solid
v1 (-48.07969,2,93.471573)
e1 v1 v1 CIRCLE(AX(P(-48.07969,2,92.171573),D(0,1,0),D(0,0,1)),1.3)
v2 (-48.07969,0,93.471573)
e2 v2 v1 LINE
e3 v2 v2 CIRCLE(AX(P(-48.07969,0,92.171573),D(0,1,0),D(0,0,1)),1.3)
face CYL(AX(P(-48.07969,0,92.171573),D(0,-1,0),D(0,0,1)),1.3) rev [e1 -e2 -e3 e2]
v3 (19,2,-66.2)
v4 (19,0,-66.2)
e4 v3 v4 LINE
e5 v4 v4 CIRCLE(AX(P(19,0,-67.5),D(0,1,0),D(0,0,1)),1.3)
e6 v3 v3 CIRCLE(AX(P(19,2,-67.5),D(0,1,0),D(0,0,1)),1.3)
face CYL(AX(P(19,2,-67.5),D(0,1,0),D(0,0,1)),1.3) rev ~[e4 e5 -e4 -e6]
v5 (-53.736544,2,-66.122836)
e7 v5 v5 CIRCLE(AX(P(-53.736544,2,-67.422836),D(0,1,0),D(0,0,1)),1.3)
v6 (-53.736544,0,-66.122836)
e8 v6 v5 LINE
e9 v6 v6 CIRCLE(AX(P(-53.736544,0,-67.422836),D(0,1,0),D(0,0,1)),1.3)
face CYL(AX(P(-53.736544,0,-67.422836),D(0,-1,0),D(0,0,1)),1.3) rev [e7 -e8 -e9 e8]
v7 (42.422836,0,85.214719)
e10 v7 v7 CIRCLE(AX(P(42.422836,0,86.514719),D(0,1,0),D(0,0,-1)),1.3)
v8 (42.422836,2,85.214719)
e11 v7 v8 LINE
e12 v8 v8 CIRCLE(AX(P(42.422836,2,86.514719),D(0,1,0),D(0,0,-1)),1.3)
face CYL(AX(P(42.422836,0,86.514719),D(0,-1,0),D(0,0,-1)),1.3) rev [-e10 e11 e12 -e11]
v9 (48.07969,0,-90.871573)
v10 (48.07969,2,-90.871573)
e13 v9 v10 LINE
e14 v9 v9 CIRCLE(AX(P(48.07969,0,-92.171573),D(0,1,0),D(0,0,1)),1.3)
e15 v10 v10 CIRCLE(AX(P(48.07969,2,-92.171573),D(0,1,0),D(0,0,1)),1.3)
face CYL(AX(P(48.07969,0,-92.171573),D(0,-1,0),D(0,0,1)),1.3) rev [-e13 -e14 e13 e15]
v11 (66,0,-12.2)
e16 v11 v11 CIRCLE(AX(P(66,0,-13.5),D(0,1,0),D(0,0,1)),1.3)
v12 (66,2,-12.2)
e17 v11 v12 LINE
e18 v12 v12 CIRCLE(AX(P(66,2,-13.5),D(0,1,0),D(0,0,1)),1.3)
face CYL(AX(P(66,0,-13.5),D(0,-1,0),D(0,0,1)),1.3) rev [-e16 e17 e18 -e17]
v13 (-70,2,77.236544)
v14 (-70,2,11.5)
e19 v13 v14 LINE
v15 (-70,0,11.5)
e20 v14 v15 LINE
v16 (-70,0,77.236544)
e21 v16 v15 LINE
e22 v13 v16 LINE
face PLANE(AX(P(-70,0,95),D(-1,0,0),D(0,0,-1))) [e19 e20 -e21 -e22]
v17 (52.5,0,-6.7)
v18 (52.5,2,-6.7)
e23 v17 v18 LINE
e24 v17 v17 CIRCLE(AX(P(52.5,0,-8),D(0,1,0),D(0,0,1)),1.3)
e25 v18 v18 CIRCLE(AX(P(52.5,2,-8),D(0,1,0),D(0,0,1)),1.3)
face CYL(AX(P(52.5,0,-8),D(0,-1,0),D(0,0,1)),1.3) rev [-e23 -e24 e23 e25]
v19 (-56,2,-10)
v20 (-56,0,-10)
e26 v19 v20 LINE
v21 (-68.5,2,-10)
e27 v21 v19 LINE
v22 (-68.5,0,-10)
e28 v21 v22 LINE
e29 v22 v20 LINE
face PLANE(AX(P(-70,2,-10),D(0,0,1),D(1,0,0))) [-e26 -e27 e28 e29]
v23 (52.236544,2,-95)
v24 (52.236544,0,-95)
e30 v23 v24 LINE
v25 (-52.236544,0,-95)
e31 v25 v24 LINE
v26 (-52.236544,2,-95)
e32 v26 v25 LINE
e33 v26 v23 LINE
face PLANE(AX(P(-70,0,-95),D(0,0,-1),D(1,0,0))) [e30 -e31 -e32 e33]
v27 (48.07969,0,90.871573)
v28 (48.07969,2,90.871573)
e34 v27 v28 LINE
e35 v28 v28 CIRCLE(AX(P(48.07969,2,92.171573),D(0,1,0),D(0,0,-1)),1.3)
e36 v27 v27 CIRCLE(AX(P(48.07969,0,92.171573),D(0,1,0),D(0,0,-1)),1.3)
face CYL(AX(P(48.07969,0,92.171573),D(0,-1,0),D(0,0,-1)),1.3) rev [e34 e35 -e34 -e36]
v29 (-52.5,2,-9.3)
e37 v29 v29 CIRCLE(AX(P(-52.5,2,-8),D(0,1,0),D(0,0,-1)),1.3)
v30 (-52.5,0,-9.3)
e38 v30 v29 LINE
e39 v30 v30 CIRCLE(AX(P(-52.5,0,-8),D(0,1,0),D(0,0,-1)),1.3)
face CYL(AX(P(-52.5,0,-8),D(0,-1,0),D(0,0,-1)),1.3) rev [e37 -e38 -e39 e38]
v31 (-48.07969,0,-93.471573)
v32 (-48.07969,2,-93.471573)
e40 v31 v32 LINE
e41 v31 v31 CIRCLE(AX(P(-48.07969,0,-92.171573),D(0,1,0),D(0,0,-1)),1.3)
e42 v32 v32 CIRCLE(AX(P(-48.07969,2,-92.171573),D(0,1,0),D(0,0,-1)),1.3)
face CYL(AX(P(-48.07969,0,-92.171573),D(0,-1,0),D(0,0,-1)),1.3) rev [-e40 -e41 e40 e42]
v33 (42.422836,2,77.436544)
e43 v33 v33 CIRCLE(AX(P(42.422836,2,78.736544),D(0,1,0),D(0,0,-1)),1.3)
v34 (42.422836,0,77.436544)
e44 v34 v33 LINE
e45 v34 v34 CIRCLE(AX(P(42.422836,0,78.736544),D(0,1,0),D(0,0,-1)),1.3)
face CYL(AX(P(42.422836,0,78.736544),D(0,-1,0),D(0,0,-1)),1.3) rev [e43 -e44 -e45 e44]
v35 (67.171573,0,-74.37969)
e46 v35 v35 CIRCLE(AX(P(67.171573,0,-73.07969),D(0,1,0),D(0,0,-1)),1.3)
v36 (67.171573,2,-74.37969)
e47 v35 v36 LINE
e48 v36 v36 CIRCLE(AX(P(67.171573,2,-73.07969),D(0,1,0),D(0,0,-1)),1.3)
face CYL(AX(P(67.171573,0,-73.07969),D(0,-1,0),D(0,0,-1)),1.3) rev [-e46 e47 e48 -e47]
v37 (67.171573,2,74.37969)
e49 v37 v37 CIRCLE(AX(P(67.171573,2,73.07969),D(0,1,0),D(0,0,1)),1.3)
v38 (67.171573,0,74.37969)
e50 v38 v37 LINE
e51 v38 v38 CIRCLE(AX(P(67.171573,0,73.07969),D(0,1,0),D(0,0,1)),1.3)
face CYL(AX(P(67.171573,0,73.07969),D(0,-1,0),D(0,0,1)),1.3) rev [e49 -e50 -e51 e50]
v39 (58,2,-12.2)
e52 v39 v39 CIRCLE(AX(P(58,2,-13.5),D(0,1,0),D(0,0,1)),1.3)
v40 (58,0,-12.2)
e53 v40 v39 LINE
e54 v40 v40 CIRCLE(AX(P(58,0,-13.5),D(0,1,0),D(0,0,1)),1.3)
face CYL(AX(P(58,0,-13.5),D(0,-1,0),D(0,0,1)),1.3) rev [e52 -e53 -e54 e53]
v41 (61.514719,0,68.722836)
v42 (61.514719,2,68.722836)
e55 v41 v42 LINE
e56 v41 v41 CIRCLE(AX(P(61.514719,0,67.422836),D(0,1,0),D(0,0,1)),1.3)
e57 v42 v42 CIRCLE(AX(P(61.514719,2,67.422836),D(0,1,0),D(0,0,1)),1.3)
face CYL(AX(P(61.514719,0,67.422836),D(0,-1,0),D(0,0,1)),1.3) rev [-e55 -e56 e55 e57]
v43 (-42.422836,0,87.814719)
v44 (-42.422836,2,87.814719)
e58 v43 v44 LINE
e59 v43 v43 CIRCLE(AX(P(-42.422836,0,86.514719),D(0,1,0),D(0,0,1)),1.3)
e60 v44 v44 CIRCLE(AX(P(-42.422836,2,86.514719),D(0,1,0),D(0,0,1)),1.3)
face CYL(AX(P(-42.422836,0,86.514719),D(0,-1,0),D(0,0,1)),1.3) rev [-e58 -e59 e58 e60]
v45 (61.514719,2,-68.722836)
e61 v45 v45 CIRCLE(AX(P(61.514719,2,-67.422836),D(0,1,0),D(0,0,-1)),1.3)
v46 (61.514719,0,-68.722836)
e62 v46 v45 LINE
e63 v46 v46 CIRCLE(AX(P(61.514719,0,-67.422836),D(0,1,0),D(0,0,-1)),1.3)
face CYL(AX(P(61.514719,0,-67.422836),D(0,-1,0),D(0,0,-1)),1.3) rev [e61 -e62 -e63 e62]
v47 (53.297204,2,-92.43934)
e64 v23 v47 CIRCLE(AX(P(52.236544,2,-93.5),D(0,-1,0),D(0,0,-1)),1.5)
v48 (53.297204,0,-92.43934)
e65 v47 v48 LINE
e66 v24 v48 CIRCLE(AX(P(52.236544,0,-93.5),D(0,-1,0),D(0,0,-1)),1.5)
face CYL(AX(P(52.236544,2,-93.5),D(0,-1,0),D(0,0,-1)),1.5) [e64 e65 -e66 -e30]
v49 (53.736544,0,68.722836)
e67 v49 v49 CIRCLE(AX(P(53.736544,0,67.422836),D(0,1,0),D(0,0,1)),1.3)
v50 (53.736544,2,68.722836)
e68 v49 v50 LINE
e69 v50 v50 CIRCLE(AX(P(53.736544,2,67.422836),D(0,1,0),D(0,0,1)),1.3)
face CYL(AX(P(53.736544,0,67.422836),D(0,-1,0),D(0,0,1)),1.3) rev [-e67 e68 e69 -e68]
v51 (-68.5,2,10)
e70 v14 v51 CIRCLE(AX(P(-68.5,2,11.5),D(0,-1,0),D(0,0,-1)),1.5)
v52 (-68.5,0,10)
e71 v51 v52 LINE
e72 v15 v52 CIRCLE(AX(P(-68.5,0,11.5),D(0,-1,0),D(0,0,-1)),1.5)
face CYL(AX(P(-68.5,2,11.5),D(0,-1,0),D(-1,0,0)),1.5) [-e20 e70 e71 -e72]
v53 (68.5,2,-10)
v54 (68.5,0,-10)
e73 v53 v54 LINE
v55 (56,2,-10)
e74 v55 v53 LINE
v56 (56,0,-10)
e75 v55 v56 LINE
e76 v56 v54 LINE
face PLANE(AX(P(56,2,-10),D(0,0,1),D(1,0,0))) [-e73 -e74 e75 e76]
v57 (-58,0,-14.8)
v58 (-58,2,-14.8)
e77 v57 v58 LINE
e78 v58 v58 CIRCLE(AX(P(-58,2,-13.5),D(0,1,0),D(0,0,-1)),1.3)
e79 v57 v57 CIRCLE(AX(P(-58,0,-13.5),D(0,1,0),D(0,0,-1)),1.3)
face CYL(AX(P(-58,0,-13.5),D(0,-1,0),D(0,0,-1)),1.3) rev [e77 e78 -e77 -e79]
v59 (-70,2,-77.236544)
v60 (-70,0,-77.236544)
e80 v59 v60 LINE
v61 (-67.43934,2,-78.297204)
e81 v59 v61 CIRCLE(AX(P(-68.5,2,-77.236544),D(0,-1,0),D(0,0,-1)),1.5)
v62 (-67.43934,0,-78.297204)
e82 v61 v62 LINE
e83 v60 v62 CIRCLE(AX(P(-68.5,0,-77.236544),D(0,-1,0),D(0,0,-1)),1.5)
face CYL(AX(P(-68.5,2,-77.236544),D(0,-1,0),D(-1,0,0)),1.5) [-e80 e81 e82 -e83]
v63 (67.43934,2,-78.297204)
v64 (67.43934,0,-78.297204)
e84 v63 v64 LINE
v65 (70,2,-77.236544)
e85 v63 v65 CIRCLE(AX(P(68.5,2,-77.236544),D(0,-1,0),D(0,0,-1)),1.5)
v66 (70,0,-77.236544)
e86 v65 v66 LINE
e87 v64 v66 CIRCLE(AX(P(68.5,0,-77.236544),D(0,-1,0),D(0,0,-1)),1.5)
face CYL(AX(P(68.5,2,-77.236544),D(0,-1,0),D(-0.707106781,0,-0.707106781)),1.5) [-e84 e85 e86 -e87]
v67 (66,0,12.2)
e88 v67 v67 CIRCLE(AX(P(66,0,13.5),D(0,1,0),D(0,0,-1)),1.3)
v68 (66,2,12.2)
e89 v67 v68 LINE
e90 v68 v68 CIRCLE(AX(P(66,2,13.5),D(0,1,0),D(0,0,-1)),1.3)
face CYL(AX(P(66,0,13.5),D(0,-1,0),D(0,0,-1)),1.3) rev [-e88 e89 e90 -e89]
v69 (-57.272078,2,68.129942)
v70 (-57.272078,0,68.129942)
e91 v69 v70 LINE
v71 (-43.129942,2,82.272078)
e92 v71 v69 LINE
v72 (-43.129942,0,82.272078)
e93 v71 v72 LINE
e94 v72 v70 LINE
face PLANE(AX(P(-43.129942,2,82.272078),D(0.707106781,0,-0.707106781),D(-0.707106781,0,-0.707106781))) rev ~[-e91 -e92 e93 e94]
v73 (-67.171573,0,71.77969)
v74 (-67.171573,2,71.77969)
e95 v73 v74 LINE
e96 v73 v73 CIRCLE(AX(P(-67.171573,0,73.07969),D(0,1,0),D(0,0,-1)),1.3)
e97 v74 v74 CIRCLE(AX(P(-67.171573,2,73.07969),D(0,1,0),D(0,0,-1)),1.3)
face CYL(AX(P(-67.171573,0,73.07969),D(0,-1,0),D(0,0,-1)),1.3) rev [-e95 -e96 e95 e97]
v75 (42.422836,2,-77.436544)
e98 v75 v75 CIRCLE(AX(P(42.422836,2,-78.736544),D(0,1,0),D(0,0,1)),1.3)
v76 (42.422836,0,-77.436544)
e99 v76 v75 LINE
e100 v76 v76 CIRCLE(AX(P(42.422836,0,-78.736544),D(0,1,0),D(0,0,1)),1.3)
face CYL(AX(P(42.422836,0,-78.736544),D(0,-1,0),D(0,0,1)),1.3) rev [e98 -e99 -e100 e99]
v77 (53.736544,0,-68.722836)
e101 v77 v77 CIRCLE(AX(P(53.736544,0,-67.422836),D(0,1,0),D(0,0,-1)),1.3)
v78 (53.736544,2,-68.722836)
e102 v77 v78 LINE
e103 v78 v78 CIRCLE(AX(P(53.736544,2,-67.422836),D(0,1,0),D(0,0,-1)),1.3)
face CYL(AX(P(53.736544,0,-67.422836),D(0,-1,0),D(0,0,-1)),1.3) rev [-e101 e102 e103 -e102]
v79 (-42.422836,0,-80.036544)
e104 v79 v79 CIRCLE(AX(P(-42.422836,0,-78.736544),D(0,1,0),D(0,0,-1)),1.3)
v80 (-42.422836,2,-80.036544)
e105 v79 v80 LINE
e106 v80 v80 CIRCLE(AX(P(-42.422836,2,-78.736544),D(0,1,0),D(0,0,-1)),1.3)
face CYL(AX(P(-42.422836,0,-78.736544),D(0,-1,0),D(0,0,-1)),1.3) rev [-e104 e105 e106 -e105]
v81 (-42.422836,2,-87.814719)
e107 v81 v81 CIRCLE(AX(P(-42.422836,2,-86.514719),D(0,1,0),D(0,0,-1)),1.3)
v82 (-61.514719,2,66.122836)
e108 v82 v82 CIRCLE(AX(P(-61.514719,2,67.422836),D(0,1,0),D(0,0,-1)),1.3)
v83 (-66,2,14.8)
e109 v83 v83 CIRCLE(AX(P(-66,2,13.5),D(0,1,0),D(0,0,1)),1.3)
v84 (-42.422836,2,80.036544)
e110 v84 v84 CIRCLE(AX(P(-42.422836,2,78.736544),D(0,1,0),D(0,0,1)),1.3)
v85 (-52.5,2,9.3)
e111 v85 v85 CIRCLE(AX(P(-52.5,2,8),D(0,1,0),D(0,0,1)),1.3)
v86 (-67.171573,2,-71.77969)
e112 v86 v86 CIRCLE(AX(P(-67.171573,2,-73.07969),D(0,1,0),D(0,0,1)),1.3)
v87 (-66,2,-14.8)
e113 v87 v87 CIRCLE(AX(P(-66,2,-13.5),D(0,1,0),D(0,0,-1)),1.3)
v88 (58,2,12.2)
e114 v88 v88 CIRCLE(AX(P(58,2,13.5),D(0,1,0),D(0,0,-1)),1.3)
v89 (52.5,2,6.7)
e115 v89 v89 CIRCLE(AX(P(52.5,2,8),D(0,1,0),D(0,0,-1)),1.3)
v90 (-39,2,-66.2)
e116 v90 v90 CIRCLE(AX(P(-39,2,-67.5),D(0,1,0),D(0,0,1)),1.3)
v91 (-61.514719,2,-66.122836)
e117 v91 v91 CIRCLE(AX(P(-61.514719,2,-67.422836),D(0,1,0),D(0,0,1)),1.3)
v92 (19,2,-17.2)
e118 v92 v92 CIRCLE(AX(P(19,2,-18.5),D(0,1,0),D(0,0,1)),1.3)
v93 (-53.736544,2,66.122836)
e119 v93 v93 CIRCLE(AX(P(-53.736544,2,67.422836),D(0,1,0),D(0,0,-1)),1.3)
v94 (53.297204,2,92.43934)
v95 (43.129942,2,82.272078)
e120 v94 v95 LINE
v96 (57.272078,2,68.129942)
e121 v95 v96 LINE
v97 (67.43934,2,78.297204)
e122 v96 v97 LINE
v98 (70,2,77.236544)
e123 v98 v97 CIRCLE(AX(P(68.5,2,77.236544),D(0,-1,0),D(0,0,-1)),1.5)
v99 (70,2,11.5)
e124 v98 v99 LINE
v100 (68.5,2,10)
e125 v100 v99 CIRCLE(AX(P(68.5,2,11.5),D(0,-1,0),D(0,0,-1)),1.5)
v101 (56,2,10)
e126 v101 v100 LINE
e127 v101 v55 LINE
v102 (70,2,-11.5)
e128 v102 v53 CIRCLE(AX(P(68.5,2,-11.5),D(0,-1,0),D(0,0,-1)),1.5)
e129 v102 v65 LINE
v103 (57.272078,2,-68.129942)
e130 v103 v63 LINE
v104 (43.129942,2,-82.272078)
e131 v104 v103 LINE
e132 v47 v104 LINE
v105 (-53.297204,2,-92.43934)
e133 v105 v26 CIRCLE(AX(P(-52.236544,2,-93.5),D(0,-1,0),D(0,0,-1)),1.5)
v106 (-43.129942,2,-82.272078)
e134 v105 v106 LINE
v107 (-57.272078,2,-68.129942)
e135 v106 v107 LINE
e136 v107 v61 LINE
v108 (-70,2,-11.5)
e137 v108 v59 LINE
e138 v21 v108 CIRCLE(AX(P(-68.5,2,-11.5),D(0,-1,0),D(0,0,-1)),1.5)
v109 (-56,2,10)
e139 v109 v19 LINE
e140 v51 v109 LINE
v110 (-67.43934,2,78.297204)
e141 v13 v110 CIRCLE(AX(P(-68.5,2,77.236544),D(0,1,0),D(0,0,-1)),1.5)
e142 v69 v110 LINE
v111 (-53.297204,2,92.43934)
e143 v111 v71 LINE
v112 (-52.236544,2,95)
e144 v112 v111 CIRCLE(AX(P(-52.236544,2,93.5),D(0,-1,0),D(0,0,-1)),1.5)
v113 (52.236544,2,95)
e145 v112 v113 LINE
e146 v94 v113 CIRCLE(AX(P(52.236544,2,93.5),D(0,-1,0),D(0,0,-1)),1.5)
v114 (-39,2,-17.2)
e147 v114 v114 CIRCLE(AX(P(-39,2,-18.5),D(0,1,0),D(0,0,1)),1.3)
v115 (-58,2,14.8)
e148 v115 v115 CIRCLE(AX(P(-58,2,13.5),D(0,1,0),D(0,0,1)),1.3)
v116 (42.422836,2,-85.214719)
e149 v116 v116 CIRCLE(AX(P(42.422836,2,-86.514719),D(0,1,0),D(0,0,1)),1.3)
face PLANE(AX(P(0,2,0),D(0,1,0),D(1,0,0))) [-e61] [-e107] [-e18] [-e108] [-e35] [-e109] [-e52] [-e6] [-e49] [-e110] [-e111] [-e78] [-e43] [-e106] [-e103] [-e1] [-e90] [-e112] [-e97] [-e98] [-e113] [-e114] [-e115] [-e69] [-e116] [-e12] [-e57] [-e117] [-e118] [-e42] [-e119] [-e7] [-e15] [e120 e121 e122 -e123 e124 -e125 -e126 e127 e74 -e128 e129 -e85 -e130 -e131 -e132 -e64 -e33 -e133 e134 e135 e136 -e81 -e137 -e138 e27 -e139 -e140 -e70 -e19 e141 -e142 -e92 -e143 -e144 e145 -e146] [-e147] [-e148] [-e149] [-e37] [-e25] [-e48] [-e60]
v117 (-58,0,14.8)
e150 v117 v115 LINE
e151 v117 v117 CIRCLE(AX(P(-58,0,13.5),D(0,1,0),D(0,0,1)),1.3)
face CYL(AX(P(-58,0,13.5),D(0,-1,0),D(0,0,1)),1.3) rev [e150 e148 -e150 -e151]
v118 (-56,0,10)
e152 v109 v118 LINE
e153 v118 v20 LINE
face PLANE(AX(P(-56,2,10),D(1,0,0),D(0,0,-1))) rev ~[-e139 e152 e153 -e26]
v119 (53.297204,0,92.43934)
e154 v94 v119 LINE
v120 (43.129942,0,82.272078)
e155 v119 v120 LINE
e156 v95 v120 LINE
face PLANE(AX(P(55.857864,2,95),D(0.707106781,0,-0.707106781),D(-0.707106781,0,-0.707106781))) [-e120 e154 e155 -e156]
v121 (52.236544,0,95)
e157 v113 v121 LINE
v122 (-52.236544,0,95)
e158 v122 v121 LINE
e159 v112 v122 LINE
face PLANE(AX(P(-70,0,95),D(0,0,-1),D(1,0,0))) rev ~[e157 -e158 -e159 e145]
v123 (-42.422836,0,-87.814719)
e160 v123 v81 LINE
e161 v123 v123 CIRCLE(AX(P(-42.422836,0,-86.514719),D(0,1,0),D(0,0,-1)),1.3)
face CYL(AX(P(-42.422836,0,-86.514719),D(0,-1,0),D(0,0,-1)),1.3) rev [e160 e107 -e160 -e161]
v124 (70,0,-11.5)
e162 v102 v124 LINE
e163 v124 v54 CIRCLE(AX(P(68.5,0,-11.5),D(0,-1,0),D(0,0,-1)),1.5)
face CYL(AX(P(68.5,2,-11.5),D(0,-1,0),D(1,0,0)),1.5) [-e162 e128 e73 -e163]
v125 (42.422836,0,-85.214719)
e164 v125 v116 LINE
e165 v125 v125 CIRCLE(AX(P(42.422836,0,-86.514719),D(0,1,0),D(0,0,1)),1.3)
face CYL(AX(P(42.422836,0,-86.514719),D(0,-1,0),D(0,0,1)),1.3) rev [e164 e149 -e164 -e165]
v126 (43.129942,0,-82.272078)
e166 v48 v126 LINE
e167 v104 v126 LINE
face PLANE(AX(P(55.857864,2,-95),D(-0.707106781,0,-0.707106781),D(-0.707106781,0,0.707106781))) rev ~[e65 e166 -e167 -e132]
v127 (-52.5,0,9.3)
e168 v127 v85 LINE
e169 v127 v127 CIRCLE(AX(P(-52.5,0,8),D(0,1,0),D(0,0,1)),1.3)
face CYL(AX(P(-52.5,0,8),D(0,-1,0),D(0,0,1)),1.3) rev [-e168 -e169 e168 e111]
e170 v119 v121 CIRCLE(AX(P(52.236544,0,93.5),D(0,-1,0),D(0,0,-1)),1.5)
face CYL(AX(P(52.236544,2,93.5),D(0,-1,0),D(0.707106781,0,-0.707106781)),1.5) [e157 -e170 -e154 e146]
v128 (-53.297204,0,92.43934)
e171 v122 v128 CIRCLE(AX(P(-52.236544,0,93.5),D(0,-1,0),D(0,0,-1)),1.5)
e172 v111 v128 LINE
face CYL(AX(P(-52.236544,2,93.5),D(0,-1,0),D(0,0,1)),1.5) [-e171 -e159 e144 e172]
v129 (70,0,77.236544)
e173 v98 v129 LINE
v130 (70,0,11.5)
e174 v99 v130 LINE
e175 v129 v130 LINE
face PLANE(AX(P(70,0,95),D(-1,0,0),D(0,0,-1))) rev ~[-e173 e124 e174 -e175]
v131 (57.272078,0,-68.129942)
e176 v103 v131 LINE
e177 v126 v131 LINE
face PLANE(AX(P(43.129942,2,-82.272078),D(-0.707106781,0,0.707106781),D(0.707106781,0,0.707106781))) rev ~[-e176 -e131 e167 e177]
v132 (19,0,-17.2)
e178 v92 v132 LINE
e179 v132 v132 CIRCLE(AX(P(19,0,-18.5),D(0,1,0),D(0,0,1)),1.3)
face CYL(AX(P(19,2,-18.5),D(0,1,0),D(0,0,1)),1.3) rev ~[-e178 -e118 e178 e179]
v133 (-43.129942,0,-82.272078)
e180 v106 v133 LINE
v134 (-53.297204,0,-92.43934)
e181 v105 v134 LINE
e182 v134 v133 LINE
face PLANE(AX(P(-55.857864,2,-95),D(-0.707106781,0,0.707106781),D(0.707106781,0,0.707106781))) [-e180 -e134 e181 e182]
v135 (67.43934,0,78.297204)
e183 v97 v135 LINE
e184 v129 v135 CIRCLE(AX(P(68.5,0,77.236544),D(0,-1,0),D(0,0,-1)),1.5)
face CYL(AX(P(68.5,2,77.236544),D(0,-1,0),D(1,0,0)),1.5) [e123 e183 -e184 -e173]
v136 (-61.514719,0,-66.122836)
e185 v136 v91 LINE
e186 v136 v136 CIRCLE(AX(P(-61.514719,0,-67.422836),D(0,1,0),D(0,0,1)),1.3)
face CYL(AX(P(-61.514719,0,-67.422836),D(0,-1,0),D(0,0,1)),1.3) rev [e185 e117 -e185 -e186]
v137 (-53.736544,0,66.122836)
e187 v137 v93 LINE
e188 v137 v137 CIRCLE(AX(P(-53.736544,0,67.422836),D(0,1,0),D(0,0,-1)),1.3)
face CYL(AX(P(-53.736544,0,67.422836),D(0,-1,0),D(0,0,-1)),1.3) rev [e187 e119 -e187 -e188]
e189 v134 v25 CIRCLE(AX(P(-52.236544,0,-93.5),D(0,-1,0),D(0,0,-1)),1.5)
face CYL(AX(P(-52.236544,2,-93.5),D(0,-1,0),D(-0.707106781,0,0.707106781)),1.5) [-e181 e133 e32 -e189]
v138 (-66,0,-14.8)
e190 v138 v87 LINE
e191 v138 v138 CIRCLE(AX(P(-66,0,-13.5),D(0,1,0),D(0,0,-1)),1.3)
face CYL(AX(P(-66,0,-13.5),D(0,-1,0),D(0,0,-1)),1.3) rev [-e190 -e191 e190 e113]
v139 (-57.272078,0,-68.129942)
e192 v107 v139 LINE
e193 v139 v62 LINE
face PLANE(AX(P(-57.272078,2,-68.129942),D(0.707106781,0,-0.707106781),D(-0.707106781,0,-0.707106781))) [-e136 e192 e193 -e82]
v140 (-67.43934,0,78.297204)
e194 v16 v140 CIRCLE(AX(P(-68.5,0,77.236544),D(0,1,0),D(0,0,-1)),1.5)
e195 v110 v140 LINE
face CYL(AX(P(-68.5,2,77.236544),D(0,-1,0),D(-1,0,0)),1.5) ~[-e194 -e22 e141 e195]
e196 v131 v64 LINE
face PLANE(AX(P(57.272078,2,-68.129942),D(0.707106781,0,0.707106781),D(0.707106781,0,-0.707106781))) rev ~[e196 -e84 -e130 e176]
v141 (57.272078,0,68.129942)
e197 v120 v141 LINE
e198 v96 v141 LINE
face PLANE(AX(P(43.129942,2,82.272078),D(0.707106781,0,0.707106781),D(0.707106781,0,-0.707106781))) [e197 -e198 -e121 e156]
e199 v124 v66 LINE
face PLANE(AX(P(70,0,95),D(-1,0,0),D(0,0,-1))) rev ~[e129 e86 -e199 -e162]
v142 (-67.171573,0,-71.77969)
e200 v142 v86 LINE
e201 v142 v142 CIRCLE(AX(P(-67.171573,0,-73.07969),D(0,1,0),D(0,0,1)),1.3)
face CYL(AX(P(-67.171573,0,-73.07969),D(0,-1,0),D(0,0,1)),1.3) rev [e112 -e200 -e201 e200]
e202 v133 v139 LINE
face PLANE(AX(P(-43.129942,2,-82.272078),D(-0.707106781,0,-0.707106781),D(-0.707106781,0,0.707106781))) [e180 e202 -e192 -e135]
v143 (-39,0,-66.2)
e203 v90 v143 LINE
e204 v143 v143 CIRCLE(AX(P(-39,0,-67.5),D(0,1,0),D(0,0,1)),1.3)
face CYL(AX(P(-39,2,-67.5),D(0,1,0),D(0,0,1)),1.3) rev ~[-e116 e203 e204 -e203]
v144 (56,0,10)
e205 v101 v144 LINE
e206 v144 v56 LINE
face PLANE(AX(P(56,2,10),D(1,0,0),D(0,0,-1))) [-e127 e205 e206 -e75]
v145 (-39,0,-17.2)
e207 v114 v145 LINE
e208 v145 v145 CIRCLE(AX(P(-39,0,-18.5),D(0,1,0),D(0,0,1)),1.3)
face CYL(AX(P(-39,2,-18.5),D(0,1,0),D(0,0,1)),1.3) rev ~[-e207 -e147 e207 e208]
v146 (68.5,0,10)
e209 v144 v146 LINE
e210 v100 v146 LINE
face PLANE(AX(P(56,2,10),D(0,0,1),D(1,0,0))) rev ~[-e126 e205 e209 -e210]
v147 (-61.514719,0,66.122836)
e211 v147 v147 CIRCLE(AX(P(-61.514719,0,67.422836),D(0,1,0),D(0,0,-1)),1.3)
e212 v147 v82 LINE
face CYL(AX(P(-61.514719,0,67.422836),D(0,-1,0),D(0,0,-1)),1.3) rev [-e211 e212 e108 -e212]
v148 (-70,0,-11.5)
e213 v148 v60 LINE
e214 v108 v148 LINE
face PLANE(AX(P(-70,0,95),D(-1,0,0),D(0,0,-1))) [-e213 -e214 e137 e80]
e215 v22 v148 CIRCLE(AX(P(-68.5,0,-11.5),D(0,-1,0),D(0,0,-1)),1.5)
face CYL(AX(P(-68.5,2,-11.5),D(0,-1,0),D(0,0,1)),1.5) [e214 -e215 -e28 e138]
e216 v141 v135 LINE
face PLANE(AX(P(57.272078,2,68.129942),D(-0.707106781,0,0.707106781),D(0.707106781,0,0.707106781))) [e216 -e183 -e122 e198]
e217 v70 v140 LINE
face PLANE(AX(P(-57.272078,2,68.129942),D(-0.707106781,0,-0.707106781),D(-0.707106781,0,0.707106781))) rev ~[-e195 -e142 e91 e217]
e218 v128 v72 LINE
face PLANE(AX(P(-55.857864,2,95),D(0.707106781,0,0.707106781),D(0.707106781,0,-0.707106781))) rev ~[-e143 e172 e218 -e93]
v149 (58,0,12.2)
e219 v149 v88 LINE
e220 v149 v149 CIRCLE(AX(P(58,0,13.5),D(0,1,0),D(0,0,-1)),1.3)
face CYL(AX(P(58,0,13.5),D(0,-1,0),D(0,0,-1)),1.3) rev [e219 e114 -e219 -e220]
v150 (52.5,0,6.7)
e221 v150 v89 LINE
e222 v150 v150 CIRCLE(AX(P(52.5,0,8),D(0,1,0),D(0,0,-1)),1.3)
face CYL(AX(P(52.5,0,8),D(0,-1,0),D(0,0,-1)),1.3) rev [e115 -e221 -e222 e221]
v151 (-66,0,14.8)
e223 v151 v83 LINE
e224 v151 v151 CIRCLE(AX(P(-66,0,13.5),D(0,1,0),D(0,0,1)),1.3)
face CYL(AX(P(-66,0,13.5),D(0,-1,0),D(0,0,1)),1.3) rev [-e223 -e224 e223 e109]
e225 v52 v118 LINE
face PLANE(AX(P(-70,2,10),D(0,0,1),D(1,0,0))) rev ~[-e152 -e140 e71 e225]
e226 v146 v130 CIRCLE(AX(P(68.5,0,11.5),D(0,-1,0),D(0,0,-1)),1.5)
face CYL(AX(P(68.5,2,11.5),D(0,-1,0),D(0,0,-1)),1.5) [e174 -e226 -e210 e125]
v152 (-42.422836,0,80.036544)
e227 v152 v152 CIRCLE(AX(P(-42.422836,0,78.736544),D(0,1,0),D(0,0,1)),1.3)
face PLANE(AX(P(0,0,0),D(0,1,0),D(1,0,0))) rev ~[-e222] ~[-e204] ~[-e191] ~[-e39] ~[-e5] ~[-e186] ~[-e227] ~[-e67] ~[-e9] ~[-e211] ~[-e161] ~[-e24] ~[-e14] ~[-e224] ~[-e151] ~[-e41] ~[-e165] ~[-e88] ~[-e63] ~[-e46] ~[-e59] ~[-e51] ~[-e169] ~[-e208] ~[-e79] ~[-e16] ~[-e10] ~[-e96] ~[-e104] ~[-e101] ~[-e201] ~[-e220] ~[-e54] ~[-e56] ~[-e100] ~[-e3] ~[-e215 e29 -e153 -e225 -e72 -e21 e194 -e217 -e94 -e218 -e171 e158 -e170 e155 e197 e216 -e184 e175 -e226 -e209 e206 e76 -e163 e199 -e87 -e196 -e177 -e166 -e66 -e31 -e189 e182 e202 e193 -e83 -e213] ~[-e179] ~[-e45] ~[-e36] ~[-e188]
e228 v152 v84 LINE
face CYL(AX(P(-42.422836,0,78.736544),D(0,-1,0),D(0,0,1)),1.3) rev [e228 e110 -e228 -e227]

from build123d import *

# Parameters (mm, degrees)
SKETCH2_W           = 140
SKETCH2_H           = 190
SKETCH2_R           = 1.3
BOSS_EXTRUDE1_DEPTH = 2
SKETCH3_W           = 14
SKETCH3_H           = 20
CUT_EXTRUDE1_DEPTH  = 2
FILLET1_R           = 1.5
SKETCH4_R           = 1.3
CUT_EXTRUDE2_DEPTH  = 2


with BuildPart() as part:
    # Sketch2 → Boss-Extrude1 (new body)
    with BuildSketch(Plane(origin=(0, 0, 0), x_dir=(1, 0, 0), z_dir=(0, 1, 0))):
        Rectangle(SKETCH2_W, SKETCH2_H)
        with Locations(Location((42.422835534, 78.736544033, 0), (0, 0, 270))):
            Circle(SKETCH2_R, mode=Mode.SUBTRACT)
        with Locations(Location((42.422835534, 86.514718626, 0), (0, 0, 270))):
            Circle(SKETCH2_R, mode=Mode.SUBTRACT)
        with Locations(Location((48.079689783, 92.171572875, 0), (0, 0, 270))):
            Circle(SKETCH2_R, mode=Mode.SUBTRACT)
        with Locations(Location((66, 13.5, 0), (0, 0, 270))):
            Circle(SKETCH2_R, mode=Mode.SUBTRACT)
        with Locations(Location((58, 13.5, 0), (0, 0, 270))):
            Circle(SKETCH2_R, mode=Mode.SUBTRACT)
        with Locations(Location((52.5, 8, 0), (0, 0, 270))):
            Circle(SKETCH2_R, mode=Mode.SUBTRACT)
        with Locations(Location((52.5, -8, 0), (0, 0, 90))):
            Circle(SKETCH2_R, mode=Mode.SUBTRACT)
        with Locations(Location((58, -13.5, 0), (0, 0, 90))):
            Circle(SKETCH2_R, mode=Mode.SUBTRACT)
        with Locations(Location((66, -13.5, 0), (0, 0, 90))):
            Circle(SKETCH2_R, mode=Mode.SUBTRACT)
        with Locations(Location((67.171572875, 73.079689783, 0), (0, 0, 90))):
            Circle(SKETCH2_R, mode=Mode.SUBTRACT)
        with Locations(Location((61.514718626, 67.422835534, 0), (0, 0, 90))):
            Circle(SKETCH2_R, mode=Mode.SUBTRACT)
        with Locations(Location((53.736544033, 67.422835534, 0), (0, 0, 90))):
            Circle(SKETCH2_R, mode=Mode.SUBTRACT)
        with Locations(Location((67.171572875, -73.079689783, 0), (0, 0, 270))):
            Circle(SKETCH2_R, mode=Mode.SUBTRACT)
        with Locations(Location((61.514718626, -67.422835534, 0), (0, 0, 270))):
            Circle(SKETCH2_R, mode=Mode.SUBTRACT)
        with Locations(Location((53.736544033, -67.422835534, 0), (0, 0, 270))):
            Circle(SKETCH2_R, mode=Mode.SUBTRACT)
        with Locations(Location((48.079689783, -92.171572875, 0), (0, 0, 90))):
            Circle(SKETCH2_R, mode=Mode.SUBTRACT)
        with Locations(Location((42.422835534, -86.514718626, 0), (0, 0, 90))):
            Circle(SKETCH2_R, mode=Mode.SUBTRACT)
        with Locations(Location((42.422835534, -78.736544033, 0), (0, 0, 90))):
            Circle(SKETCH2_R, mode=Mode.SUBTRACT)
        with Locations(Location((-48.079689783, 92.171572875, 0), (0, 0, 90))):
            Circle(SKETCH2_R, mode=Mode.SUBTRACT)
        with Locations(Location((-42.422835534, 86.514718626, 0), (0, 0, 90))):
            Circle(SKETCH2_R, mode=Mode.SUBTRACT)
        with Locations(Location((-42.422835534, 78.736544033, 0), (0, 0, 90))):
            Circle(SKETCH2_R, mode=Mode.SUBTRACT)
        with Locations(Location((-67.171572875, 73.079689783, 0), (0, 0, 270))):
            Circle(SKETCH2_R, mode=Mode.SUBTRACT)
        with Locations(Location((-61.514718626, 67.422835534, 0), (0, 0, 270))):
            Circle(SKETCH2_R, mode=Mode.SUBTRACT)
        with Locations(Location((-53.736544033, 67.422835534, 0), (0, 0, 270))):
            Circle(SKETCH2_R, mode=Mode.SUBTRACT)
        with Locations(Location((-67.171572875, -73.079689783, 0), (0, 0, 90))):
            Circle(SKETCH2_R, mode=Mode.SUBTRACT)
        with Locations(Location((-61.514718626, -67.422835534, 0), (0, 0, 90))):
            Circle(SKETCH2_R, mode=Mode.SUBTRACT)
        with Locations(Location((-53.736544033, -67.422835534, 0), (0, 0, 90))):
            Circle(SKETCH2_R, mode=Mode.SUBTRACT)
        with Locations(Location((-42.422835534, -78.736544033, 0), (0, 0, 270))):
            Circle(SKETCH2_R, mode=Mode.SUBTRACT)
        with Locations(Location((-42.422835534, -86.514718626, 0), (0, 0, 270))):
            Circle(SKETCH2_R, mode=Mode.SUBTRACT)
        with Locations(Location((-48.079689783, -92.171572875, 0), (0, 0, 270))):
            Circle(SKETCH2_R, mode=Mode.SUBTRACT)
        with Locations(Location((-52.5, -8, 0), (0, 0, 270))):
            Circle(SKETCH2_R, mode=Mode.SUBTRACT)
        with Locations(Location((-58, -13.5, 0), (0, 0, 270))):
            Circle(SKETCH2_R, mode=Mode.SUBTRACT)
        with Locations(Location((-66, -13.5, 0), (0, 0, 270))):
            Circle(SKETCH2_R, mode=Mode.SUBTRACT)
        with Locations(Location((-66, 13.5, 0), (0, 0, 90))):
            Circle(SKETCH2_R, mode=Mode.SUBTRACT)
        with Locations(Location((-58, 13.5, 0), (0, 0, 90))):
            Circle(SKETCH2_R, mode=Mode.SUBTRACT)
        with Locations(Location((-52.5, 8, 0), (0, 0, 90))):
            Circle(SKETCH2_R, mode=Mode.SUBTRACT)
    extrude(amount=BOSS_EXTRUDE1_DEPTH)

    # Sketch3 → Cut-Extrude1 (cut)
    with BuildSketch(Plane(origin=(0, 2, 0), x_dir=(1, 0, 0), z_dir=(0, 1, 0))):
        with Locations((63, 0)):
            Rectangle(SKETCH3_W, SKETCH3_H)
        Polygon((55.857864376, 95), (43.129942315, 82.272077939), (57.272077939, 68.129942315), (70, 80.857864376), (70, 95), align=None)
        Polygon((70, -80.857864376), (70, -95), (55.857864376, -95), (43.129942315, -82.272077939), (57.272077939, -68.129942315), align=None)
        Polygon((-70, 80.857864376), (-70, 95), (-55.857864376, 95), (-43.129942315, 82.272077939), (-57.272077939, 68.129942315), align=None)
        with Locations((-63, 0)):
            Rectangle(SKETCH3_W, SKETCH3_H)
        Polygon((-57.272077939, -68.129942315), (-70, -80.857864376), (-70, -95), (-55.857864376, -95), (-43.129942315, -82.272077939), align=None)
    extrude(amount=-CUT_EXTRUDE1_DEPTH, mode=Mode.SUBTRACT)

    # Fillet1
    fillet1_edges = [part.edges().sort_by_distance(p)[0] for p in [
        (55.857864376, 1, -95),
        (70, 1, -80.857864376),
        (70, 1, 80.857864376),
        (55.857864376, 1, 95),
        (-70, 1, -80.857864376),
        (-55.857864376, 1, -95),
        (-70, 1, 10),
        (-70, 1, -10),
        (-55.857864376, 1, 95),
        (-70, 1, 80.857864376),
        (70, 1, -10),
        (70, 1, 10),
    ]]
    fillet(fillet1_edges, radius=FILLET1_R)

    # Sketch4 → Cut-Extrude2 (cut)
    with BuildSketch(Plane(origin=(0, 2, 0), x_dir=(1, 0, 0), z_dir=(0, 1, 0))):
        with Locations(Location((-39, 67.5, 0), (0, 0, 270))):
            Circle(SKETCH4_R)
        with Locations(Location((19, 67.5, 0), (0, 0, 270))):
            Circle(SKETCH4_R)
        with Locations(Location((19, 18.5, 0), (0, 0, 270))):
            Circle(SKETCH4_R)
        with Locations(Location((-39, 18.5, 0), (0, 0, 270))):
            Circle(SKETCH4_R)
    extrude(amount=-CUT_EXTRUDE2_DEPTH, mode=Mode.SUBTRACT)


solid = part.part
